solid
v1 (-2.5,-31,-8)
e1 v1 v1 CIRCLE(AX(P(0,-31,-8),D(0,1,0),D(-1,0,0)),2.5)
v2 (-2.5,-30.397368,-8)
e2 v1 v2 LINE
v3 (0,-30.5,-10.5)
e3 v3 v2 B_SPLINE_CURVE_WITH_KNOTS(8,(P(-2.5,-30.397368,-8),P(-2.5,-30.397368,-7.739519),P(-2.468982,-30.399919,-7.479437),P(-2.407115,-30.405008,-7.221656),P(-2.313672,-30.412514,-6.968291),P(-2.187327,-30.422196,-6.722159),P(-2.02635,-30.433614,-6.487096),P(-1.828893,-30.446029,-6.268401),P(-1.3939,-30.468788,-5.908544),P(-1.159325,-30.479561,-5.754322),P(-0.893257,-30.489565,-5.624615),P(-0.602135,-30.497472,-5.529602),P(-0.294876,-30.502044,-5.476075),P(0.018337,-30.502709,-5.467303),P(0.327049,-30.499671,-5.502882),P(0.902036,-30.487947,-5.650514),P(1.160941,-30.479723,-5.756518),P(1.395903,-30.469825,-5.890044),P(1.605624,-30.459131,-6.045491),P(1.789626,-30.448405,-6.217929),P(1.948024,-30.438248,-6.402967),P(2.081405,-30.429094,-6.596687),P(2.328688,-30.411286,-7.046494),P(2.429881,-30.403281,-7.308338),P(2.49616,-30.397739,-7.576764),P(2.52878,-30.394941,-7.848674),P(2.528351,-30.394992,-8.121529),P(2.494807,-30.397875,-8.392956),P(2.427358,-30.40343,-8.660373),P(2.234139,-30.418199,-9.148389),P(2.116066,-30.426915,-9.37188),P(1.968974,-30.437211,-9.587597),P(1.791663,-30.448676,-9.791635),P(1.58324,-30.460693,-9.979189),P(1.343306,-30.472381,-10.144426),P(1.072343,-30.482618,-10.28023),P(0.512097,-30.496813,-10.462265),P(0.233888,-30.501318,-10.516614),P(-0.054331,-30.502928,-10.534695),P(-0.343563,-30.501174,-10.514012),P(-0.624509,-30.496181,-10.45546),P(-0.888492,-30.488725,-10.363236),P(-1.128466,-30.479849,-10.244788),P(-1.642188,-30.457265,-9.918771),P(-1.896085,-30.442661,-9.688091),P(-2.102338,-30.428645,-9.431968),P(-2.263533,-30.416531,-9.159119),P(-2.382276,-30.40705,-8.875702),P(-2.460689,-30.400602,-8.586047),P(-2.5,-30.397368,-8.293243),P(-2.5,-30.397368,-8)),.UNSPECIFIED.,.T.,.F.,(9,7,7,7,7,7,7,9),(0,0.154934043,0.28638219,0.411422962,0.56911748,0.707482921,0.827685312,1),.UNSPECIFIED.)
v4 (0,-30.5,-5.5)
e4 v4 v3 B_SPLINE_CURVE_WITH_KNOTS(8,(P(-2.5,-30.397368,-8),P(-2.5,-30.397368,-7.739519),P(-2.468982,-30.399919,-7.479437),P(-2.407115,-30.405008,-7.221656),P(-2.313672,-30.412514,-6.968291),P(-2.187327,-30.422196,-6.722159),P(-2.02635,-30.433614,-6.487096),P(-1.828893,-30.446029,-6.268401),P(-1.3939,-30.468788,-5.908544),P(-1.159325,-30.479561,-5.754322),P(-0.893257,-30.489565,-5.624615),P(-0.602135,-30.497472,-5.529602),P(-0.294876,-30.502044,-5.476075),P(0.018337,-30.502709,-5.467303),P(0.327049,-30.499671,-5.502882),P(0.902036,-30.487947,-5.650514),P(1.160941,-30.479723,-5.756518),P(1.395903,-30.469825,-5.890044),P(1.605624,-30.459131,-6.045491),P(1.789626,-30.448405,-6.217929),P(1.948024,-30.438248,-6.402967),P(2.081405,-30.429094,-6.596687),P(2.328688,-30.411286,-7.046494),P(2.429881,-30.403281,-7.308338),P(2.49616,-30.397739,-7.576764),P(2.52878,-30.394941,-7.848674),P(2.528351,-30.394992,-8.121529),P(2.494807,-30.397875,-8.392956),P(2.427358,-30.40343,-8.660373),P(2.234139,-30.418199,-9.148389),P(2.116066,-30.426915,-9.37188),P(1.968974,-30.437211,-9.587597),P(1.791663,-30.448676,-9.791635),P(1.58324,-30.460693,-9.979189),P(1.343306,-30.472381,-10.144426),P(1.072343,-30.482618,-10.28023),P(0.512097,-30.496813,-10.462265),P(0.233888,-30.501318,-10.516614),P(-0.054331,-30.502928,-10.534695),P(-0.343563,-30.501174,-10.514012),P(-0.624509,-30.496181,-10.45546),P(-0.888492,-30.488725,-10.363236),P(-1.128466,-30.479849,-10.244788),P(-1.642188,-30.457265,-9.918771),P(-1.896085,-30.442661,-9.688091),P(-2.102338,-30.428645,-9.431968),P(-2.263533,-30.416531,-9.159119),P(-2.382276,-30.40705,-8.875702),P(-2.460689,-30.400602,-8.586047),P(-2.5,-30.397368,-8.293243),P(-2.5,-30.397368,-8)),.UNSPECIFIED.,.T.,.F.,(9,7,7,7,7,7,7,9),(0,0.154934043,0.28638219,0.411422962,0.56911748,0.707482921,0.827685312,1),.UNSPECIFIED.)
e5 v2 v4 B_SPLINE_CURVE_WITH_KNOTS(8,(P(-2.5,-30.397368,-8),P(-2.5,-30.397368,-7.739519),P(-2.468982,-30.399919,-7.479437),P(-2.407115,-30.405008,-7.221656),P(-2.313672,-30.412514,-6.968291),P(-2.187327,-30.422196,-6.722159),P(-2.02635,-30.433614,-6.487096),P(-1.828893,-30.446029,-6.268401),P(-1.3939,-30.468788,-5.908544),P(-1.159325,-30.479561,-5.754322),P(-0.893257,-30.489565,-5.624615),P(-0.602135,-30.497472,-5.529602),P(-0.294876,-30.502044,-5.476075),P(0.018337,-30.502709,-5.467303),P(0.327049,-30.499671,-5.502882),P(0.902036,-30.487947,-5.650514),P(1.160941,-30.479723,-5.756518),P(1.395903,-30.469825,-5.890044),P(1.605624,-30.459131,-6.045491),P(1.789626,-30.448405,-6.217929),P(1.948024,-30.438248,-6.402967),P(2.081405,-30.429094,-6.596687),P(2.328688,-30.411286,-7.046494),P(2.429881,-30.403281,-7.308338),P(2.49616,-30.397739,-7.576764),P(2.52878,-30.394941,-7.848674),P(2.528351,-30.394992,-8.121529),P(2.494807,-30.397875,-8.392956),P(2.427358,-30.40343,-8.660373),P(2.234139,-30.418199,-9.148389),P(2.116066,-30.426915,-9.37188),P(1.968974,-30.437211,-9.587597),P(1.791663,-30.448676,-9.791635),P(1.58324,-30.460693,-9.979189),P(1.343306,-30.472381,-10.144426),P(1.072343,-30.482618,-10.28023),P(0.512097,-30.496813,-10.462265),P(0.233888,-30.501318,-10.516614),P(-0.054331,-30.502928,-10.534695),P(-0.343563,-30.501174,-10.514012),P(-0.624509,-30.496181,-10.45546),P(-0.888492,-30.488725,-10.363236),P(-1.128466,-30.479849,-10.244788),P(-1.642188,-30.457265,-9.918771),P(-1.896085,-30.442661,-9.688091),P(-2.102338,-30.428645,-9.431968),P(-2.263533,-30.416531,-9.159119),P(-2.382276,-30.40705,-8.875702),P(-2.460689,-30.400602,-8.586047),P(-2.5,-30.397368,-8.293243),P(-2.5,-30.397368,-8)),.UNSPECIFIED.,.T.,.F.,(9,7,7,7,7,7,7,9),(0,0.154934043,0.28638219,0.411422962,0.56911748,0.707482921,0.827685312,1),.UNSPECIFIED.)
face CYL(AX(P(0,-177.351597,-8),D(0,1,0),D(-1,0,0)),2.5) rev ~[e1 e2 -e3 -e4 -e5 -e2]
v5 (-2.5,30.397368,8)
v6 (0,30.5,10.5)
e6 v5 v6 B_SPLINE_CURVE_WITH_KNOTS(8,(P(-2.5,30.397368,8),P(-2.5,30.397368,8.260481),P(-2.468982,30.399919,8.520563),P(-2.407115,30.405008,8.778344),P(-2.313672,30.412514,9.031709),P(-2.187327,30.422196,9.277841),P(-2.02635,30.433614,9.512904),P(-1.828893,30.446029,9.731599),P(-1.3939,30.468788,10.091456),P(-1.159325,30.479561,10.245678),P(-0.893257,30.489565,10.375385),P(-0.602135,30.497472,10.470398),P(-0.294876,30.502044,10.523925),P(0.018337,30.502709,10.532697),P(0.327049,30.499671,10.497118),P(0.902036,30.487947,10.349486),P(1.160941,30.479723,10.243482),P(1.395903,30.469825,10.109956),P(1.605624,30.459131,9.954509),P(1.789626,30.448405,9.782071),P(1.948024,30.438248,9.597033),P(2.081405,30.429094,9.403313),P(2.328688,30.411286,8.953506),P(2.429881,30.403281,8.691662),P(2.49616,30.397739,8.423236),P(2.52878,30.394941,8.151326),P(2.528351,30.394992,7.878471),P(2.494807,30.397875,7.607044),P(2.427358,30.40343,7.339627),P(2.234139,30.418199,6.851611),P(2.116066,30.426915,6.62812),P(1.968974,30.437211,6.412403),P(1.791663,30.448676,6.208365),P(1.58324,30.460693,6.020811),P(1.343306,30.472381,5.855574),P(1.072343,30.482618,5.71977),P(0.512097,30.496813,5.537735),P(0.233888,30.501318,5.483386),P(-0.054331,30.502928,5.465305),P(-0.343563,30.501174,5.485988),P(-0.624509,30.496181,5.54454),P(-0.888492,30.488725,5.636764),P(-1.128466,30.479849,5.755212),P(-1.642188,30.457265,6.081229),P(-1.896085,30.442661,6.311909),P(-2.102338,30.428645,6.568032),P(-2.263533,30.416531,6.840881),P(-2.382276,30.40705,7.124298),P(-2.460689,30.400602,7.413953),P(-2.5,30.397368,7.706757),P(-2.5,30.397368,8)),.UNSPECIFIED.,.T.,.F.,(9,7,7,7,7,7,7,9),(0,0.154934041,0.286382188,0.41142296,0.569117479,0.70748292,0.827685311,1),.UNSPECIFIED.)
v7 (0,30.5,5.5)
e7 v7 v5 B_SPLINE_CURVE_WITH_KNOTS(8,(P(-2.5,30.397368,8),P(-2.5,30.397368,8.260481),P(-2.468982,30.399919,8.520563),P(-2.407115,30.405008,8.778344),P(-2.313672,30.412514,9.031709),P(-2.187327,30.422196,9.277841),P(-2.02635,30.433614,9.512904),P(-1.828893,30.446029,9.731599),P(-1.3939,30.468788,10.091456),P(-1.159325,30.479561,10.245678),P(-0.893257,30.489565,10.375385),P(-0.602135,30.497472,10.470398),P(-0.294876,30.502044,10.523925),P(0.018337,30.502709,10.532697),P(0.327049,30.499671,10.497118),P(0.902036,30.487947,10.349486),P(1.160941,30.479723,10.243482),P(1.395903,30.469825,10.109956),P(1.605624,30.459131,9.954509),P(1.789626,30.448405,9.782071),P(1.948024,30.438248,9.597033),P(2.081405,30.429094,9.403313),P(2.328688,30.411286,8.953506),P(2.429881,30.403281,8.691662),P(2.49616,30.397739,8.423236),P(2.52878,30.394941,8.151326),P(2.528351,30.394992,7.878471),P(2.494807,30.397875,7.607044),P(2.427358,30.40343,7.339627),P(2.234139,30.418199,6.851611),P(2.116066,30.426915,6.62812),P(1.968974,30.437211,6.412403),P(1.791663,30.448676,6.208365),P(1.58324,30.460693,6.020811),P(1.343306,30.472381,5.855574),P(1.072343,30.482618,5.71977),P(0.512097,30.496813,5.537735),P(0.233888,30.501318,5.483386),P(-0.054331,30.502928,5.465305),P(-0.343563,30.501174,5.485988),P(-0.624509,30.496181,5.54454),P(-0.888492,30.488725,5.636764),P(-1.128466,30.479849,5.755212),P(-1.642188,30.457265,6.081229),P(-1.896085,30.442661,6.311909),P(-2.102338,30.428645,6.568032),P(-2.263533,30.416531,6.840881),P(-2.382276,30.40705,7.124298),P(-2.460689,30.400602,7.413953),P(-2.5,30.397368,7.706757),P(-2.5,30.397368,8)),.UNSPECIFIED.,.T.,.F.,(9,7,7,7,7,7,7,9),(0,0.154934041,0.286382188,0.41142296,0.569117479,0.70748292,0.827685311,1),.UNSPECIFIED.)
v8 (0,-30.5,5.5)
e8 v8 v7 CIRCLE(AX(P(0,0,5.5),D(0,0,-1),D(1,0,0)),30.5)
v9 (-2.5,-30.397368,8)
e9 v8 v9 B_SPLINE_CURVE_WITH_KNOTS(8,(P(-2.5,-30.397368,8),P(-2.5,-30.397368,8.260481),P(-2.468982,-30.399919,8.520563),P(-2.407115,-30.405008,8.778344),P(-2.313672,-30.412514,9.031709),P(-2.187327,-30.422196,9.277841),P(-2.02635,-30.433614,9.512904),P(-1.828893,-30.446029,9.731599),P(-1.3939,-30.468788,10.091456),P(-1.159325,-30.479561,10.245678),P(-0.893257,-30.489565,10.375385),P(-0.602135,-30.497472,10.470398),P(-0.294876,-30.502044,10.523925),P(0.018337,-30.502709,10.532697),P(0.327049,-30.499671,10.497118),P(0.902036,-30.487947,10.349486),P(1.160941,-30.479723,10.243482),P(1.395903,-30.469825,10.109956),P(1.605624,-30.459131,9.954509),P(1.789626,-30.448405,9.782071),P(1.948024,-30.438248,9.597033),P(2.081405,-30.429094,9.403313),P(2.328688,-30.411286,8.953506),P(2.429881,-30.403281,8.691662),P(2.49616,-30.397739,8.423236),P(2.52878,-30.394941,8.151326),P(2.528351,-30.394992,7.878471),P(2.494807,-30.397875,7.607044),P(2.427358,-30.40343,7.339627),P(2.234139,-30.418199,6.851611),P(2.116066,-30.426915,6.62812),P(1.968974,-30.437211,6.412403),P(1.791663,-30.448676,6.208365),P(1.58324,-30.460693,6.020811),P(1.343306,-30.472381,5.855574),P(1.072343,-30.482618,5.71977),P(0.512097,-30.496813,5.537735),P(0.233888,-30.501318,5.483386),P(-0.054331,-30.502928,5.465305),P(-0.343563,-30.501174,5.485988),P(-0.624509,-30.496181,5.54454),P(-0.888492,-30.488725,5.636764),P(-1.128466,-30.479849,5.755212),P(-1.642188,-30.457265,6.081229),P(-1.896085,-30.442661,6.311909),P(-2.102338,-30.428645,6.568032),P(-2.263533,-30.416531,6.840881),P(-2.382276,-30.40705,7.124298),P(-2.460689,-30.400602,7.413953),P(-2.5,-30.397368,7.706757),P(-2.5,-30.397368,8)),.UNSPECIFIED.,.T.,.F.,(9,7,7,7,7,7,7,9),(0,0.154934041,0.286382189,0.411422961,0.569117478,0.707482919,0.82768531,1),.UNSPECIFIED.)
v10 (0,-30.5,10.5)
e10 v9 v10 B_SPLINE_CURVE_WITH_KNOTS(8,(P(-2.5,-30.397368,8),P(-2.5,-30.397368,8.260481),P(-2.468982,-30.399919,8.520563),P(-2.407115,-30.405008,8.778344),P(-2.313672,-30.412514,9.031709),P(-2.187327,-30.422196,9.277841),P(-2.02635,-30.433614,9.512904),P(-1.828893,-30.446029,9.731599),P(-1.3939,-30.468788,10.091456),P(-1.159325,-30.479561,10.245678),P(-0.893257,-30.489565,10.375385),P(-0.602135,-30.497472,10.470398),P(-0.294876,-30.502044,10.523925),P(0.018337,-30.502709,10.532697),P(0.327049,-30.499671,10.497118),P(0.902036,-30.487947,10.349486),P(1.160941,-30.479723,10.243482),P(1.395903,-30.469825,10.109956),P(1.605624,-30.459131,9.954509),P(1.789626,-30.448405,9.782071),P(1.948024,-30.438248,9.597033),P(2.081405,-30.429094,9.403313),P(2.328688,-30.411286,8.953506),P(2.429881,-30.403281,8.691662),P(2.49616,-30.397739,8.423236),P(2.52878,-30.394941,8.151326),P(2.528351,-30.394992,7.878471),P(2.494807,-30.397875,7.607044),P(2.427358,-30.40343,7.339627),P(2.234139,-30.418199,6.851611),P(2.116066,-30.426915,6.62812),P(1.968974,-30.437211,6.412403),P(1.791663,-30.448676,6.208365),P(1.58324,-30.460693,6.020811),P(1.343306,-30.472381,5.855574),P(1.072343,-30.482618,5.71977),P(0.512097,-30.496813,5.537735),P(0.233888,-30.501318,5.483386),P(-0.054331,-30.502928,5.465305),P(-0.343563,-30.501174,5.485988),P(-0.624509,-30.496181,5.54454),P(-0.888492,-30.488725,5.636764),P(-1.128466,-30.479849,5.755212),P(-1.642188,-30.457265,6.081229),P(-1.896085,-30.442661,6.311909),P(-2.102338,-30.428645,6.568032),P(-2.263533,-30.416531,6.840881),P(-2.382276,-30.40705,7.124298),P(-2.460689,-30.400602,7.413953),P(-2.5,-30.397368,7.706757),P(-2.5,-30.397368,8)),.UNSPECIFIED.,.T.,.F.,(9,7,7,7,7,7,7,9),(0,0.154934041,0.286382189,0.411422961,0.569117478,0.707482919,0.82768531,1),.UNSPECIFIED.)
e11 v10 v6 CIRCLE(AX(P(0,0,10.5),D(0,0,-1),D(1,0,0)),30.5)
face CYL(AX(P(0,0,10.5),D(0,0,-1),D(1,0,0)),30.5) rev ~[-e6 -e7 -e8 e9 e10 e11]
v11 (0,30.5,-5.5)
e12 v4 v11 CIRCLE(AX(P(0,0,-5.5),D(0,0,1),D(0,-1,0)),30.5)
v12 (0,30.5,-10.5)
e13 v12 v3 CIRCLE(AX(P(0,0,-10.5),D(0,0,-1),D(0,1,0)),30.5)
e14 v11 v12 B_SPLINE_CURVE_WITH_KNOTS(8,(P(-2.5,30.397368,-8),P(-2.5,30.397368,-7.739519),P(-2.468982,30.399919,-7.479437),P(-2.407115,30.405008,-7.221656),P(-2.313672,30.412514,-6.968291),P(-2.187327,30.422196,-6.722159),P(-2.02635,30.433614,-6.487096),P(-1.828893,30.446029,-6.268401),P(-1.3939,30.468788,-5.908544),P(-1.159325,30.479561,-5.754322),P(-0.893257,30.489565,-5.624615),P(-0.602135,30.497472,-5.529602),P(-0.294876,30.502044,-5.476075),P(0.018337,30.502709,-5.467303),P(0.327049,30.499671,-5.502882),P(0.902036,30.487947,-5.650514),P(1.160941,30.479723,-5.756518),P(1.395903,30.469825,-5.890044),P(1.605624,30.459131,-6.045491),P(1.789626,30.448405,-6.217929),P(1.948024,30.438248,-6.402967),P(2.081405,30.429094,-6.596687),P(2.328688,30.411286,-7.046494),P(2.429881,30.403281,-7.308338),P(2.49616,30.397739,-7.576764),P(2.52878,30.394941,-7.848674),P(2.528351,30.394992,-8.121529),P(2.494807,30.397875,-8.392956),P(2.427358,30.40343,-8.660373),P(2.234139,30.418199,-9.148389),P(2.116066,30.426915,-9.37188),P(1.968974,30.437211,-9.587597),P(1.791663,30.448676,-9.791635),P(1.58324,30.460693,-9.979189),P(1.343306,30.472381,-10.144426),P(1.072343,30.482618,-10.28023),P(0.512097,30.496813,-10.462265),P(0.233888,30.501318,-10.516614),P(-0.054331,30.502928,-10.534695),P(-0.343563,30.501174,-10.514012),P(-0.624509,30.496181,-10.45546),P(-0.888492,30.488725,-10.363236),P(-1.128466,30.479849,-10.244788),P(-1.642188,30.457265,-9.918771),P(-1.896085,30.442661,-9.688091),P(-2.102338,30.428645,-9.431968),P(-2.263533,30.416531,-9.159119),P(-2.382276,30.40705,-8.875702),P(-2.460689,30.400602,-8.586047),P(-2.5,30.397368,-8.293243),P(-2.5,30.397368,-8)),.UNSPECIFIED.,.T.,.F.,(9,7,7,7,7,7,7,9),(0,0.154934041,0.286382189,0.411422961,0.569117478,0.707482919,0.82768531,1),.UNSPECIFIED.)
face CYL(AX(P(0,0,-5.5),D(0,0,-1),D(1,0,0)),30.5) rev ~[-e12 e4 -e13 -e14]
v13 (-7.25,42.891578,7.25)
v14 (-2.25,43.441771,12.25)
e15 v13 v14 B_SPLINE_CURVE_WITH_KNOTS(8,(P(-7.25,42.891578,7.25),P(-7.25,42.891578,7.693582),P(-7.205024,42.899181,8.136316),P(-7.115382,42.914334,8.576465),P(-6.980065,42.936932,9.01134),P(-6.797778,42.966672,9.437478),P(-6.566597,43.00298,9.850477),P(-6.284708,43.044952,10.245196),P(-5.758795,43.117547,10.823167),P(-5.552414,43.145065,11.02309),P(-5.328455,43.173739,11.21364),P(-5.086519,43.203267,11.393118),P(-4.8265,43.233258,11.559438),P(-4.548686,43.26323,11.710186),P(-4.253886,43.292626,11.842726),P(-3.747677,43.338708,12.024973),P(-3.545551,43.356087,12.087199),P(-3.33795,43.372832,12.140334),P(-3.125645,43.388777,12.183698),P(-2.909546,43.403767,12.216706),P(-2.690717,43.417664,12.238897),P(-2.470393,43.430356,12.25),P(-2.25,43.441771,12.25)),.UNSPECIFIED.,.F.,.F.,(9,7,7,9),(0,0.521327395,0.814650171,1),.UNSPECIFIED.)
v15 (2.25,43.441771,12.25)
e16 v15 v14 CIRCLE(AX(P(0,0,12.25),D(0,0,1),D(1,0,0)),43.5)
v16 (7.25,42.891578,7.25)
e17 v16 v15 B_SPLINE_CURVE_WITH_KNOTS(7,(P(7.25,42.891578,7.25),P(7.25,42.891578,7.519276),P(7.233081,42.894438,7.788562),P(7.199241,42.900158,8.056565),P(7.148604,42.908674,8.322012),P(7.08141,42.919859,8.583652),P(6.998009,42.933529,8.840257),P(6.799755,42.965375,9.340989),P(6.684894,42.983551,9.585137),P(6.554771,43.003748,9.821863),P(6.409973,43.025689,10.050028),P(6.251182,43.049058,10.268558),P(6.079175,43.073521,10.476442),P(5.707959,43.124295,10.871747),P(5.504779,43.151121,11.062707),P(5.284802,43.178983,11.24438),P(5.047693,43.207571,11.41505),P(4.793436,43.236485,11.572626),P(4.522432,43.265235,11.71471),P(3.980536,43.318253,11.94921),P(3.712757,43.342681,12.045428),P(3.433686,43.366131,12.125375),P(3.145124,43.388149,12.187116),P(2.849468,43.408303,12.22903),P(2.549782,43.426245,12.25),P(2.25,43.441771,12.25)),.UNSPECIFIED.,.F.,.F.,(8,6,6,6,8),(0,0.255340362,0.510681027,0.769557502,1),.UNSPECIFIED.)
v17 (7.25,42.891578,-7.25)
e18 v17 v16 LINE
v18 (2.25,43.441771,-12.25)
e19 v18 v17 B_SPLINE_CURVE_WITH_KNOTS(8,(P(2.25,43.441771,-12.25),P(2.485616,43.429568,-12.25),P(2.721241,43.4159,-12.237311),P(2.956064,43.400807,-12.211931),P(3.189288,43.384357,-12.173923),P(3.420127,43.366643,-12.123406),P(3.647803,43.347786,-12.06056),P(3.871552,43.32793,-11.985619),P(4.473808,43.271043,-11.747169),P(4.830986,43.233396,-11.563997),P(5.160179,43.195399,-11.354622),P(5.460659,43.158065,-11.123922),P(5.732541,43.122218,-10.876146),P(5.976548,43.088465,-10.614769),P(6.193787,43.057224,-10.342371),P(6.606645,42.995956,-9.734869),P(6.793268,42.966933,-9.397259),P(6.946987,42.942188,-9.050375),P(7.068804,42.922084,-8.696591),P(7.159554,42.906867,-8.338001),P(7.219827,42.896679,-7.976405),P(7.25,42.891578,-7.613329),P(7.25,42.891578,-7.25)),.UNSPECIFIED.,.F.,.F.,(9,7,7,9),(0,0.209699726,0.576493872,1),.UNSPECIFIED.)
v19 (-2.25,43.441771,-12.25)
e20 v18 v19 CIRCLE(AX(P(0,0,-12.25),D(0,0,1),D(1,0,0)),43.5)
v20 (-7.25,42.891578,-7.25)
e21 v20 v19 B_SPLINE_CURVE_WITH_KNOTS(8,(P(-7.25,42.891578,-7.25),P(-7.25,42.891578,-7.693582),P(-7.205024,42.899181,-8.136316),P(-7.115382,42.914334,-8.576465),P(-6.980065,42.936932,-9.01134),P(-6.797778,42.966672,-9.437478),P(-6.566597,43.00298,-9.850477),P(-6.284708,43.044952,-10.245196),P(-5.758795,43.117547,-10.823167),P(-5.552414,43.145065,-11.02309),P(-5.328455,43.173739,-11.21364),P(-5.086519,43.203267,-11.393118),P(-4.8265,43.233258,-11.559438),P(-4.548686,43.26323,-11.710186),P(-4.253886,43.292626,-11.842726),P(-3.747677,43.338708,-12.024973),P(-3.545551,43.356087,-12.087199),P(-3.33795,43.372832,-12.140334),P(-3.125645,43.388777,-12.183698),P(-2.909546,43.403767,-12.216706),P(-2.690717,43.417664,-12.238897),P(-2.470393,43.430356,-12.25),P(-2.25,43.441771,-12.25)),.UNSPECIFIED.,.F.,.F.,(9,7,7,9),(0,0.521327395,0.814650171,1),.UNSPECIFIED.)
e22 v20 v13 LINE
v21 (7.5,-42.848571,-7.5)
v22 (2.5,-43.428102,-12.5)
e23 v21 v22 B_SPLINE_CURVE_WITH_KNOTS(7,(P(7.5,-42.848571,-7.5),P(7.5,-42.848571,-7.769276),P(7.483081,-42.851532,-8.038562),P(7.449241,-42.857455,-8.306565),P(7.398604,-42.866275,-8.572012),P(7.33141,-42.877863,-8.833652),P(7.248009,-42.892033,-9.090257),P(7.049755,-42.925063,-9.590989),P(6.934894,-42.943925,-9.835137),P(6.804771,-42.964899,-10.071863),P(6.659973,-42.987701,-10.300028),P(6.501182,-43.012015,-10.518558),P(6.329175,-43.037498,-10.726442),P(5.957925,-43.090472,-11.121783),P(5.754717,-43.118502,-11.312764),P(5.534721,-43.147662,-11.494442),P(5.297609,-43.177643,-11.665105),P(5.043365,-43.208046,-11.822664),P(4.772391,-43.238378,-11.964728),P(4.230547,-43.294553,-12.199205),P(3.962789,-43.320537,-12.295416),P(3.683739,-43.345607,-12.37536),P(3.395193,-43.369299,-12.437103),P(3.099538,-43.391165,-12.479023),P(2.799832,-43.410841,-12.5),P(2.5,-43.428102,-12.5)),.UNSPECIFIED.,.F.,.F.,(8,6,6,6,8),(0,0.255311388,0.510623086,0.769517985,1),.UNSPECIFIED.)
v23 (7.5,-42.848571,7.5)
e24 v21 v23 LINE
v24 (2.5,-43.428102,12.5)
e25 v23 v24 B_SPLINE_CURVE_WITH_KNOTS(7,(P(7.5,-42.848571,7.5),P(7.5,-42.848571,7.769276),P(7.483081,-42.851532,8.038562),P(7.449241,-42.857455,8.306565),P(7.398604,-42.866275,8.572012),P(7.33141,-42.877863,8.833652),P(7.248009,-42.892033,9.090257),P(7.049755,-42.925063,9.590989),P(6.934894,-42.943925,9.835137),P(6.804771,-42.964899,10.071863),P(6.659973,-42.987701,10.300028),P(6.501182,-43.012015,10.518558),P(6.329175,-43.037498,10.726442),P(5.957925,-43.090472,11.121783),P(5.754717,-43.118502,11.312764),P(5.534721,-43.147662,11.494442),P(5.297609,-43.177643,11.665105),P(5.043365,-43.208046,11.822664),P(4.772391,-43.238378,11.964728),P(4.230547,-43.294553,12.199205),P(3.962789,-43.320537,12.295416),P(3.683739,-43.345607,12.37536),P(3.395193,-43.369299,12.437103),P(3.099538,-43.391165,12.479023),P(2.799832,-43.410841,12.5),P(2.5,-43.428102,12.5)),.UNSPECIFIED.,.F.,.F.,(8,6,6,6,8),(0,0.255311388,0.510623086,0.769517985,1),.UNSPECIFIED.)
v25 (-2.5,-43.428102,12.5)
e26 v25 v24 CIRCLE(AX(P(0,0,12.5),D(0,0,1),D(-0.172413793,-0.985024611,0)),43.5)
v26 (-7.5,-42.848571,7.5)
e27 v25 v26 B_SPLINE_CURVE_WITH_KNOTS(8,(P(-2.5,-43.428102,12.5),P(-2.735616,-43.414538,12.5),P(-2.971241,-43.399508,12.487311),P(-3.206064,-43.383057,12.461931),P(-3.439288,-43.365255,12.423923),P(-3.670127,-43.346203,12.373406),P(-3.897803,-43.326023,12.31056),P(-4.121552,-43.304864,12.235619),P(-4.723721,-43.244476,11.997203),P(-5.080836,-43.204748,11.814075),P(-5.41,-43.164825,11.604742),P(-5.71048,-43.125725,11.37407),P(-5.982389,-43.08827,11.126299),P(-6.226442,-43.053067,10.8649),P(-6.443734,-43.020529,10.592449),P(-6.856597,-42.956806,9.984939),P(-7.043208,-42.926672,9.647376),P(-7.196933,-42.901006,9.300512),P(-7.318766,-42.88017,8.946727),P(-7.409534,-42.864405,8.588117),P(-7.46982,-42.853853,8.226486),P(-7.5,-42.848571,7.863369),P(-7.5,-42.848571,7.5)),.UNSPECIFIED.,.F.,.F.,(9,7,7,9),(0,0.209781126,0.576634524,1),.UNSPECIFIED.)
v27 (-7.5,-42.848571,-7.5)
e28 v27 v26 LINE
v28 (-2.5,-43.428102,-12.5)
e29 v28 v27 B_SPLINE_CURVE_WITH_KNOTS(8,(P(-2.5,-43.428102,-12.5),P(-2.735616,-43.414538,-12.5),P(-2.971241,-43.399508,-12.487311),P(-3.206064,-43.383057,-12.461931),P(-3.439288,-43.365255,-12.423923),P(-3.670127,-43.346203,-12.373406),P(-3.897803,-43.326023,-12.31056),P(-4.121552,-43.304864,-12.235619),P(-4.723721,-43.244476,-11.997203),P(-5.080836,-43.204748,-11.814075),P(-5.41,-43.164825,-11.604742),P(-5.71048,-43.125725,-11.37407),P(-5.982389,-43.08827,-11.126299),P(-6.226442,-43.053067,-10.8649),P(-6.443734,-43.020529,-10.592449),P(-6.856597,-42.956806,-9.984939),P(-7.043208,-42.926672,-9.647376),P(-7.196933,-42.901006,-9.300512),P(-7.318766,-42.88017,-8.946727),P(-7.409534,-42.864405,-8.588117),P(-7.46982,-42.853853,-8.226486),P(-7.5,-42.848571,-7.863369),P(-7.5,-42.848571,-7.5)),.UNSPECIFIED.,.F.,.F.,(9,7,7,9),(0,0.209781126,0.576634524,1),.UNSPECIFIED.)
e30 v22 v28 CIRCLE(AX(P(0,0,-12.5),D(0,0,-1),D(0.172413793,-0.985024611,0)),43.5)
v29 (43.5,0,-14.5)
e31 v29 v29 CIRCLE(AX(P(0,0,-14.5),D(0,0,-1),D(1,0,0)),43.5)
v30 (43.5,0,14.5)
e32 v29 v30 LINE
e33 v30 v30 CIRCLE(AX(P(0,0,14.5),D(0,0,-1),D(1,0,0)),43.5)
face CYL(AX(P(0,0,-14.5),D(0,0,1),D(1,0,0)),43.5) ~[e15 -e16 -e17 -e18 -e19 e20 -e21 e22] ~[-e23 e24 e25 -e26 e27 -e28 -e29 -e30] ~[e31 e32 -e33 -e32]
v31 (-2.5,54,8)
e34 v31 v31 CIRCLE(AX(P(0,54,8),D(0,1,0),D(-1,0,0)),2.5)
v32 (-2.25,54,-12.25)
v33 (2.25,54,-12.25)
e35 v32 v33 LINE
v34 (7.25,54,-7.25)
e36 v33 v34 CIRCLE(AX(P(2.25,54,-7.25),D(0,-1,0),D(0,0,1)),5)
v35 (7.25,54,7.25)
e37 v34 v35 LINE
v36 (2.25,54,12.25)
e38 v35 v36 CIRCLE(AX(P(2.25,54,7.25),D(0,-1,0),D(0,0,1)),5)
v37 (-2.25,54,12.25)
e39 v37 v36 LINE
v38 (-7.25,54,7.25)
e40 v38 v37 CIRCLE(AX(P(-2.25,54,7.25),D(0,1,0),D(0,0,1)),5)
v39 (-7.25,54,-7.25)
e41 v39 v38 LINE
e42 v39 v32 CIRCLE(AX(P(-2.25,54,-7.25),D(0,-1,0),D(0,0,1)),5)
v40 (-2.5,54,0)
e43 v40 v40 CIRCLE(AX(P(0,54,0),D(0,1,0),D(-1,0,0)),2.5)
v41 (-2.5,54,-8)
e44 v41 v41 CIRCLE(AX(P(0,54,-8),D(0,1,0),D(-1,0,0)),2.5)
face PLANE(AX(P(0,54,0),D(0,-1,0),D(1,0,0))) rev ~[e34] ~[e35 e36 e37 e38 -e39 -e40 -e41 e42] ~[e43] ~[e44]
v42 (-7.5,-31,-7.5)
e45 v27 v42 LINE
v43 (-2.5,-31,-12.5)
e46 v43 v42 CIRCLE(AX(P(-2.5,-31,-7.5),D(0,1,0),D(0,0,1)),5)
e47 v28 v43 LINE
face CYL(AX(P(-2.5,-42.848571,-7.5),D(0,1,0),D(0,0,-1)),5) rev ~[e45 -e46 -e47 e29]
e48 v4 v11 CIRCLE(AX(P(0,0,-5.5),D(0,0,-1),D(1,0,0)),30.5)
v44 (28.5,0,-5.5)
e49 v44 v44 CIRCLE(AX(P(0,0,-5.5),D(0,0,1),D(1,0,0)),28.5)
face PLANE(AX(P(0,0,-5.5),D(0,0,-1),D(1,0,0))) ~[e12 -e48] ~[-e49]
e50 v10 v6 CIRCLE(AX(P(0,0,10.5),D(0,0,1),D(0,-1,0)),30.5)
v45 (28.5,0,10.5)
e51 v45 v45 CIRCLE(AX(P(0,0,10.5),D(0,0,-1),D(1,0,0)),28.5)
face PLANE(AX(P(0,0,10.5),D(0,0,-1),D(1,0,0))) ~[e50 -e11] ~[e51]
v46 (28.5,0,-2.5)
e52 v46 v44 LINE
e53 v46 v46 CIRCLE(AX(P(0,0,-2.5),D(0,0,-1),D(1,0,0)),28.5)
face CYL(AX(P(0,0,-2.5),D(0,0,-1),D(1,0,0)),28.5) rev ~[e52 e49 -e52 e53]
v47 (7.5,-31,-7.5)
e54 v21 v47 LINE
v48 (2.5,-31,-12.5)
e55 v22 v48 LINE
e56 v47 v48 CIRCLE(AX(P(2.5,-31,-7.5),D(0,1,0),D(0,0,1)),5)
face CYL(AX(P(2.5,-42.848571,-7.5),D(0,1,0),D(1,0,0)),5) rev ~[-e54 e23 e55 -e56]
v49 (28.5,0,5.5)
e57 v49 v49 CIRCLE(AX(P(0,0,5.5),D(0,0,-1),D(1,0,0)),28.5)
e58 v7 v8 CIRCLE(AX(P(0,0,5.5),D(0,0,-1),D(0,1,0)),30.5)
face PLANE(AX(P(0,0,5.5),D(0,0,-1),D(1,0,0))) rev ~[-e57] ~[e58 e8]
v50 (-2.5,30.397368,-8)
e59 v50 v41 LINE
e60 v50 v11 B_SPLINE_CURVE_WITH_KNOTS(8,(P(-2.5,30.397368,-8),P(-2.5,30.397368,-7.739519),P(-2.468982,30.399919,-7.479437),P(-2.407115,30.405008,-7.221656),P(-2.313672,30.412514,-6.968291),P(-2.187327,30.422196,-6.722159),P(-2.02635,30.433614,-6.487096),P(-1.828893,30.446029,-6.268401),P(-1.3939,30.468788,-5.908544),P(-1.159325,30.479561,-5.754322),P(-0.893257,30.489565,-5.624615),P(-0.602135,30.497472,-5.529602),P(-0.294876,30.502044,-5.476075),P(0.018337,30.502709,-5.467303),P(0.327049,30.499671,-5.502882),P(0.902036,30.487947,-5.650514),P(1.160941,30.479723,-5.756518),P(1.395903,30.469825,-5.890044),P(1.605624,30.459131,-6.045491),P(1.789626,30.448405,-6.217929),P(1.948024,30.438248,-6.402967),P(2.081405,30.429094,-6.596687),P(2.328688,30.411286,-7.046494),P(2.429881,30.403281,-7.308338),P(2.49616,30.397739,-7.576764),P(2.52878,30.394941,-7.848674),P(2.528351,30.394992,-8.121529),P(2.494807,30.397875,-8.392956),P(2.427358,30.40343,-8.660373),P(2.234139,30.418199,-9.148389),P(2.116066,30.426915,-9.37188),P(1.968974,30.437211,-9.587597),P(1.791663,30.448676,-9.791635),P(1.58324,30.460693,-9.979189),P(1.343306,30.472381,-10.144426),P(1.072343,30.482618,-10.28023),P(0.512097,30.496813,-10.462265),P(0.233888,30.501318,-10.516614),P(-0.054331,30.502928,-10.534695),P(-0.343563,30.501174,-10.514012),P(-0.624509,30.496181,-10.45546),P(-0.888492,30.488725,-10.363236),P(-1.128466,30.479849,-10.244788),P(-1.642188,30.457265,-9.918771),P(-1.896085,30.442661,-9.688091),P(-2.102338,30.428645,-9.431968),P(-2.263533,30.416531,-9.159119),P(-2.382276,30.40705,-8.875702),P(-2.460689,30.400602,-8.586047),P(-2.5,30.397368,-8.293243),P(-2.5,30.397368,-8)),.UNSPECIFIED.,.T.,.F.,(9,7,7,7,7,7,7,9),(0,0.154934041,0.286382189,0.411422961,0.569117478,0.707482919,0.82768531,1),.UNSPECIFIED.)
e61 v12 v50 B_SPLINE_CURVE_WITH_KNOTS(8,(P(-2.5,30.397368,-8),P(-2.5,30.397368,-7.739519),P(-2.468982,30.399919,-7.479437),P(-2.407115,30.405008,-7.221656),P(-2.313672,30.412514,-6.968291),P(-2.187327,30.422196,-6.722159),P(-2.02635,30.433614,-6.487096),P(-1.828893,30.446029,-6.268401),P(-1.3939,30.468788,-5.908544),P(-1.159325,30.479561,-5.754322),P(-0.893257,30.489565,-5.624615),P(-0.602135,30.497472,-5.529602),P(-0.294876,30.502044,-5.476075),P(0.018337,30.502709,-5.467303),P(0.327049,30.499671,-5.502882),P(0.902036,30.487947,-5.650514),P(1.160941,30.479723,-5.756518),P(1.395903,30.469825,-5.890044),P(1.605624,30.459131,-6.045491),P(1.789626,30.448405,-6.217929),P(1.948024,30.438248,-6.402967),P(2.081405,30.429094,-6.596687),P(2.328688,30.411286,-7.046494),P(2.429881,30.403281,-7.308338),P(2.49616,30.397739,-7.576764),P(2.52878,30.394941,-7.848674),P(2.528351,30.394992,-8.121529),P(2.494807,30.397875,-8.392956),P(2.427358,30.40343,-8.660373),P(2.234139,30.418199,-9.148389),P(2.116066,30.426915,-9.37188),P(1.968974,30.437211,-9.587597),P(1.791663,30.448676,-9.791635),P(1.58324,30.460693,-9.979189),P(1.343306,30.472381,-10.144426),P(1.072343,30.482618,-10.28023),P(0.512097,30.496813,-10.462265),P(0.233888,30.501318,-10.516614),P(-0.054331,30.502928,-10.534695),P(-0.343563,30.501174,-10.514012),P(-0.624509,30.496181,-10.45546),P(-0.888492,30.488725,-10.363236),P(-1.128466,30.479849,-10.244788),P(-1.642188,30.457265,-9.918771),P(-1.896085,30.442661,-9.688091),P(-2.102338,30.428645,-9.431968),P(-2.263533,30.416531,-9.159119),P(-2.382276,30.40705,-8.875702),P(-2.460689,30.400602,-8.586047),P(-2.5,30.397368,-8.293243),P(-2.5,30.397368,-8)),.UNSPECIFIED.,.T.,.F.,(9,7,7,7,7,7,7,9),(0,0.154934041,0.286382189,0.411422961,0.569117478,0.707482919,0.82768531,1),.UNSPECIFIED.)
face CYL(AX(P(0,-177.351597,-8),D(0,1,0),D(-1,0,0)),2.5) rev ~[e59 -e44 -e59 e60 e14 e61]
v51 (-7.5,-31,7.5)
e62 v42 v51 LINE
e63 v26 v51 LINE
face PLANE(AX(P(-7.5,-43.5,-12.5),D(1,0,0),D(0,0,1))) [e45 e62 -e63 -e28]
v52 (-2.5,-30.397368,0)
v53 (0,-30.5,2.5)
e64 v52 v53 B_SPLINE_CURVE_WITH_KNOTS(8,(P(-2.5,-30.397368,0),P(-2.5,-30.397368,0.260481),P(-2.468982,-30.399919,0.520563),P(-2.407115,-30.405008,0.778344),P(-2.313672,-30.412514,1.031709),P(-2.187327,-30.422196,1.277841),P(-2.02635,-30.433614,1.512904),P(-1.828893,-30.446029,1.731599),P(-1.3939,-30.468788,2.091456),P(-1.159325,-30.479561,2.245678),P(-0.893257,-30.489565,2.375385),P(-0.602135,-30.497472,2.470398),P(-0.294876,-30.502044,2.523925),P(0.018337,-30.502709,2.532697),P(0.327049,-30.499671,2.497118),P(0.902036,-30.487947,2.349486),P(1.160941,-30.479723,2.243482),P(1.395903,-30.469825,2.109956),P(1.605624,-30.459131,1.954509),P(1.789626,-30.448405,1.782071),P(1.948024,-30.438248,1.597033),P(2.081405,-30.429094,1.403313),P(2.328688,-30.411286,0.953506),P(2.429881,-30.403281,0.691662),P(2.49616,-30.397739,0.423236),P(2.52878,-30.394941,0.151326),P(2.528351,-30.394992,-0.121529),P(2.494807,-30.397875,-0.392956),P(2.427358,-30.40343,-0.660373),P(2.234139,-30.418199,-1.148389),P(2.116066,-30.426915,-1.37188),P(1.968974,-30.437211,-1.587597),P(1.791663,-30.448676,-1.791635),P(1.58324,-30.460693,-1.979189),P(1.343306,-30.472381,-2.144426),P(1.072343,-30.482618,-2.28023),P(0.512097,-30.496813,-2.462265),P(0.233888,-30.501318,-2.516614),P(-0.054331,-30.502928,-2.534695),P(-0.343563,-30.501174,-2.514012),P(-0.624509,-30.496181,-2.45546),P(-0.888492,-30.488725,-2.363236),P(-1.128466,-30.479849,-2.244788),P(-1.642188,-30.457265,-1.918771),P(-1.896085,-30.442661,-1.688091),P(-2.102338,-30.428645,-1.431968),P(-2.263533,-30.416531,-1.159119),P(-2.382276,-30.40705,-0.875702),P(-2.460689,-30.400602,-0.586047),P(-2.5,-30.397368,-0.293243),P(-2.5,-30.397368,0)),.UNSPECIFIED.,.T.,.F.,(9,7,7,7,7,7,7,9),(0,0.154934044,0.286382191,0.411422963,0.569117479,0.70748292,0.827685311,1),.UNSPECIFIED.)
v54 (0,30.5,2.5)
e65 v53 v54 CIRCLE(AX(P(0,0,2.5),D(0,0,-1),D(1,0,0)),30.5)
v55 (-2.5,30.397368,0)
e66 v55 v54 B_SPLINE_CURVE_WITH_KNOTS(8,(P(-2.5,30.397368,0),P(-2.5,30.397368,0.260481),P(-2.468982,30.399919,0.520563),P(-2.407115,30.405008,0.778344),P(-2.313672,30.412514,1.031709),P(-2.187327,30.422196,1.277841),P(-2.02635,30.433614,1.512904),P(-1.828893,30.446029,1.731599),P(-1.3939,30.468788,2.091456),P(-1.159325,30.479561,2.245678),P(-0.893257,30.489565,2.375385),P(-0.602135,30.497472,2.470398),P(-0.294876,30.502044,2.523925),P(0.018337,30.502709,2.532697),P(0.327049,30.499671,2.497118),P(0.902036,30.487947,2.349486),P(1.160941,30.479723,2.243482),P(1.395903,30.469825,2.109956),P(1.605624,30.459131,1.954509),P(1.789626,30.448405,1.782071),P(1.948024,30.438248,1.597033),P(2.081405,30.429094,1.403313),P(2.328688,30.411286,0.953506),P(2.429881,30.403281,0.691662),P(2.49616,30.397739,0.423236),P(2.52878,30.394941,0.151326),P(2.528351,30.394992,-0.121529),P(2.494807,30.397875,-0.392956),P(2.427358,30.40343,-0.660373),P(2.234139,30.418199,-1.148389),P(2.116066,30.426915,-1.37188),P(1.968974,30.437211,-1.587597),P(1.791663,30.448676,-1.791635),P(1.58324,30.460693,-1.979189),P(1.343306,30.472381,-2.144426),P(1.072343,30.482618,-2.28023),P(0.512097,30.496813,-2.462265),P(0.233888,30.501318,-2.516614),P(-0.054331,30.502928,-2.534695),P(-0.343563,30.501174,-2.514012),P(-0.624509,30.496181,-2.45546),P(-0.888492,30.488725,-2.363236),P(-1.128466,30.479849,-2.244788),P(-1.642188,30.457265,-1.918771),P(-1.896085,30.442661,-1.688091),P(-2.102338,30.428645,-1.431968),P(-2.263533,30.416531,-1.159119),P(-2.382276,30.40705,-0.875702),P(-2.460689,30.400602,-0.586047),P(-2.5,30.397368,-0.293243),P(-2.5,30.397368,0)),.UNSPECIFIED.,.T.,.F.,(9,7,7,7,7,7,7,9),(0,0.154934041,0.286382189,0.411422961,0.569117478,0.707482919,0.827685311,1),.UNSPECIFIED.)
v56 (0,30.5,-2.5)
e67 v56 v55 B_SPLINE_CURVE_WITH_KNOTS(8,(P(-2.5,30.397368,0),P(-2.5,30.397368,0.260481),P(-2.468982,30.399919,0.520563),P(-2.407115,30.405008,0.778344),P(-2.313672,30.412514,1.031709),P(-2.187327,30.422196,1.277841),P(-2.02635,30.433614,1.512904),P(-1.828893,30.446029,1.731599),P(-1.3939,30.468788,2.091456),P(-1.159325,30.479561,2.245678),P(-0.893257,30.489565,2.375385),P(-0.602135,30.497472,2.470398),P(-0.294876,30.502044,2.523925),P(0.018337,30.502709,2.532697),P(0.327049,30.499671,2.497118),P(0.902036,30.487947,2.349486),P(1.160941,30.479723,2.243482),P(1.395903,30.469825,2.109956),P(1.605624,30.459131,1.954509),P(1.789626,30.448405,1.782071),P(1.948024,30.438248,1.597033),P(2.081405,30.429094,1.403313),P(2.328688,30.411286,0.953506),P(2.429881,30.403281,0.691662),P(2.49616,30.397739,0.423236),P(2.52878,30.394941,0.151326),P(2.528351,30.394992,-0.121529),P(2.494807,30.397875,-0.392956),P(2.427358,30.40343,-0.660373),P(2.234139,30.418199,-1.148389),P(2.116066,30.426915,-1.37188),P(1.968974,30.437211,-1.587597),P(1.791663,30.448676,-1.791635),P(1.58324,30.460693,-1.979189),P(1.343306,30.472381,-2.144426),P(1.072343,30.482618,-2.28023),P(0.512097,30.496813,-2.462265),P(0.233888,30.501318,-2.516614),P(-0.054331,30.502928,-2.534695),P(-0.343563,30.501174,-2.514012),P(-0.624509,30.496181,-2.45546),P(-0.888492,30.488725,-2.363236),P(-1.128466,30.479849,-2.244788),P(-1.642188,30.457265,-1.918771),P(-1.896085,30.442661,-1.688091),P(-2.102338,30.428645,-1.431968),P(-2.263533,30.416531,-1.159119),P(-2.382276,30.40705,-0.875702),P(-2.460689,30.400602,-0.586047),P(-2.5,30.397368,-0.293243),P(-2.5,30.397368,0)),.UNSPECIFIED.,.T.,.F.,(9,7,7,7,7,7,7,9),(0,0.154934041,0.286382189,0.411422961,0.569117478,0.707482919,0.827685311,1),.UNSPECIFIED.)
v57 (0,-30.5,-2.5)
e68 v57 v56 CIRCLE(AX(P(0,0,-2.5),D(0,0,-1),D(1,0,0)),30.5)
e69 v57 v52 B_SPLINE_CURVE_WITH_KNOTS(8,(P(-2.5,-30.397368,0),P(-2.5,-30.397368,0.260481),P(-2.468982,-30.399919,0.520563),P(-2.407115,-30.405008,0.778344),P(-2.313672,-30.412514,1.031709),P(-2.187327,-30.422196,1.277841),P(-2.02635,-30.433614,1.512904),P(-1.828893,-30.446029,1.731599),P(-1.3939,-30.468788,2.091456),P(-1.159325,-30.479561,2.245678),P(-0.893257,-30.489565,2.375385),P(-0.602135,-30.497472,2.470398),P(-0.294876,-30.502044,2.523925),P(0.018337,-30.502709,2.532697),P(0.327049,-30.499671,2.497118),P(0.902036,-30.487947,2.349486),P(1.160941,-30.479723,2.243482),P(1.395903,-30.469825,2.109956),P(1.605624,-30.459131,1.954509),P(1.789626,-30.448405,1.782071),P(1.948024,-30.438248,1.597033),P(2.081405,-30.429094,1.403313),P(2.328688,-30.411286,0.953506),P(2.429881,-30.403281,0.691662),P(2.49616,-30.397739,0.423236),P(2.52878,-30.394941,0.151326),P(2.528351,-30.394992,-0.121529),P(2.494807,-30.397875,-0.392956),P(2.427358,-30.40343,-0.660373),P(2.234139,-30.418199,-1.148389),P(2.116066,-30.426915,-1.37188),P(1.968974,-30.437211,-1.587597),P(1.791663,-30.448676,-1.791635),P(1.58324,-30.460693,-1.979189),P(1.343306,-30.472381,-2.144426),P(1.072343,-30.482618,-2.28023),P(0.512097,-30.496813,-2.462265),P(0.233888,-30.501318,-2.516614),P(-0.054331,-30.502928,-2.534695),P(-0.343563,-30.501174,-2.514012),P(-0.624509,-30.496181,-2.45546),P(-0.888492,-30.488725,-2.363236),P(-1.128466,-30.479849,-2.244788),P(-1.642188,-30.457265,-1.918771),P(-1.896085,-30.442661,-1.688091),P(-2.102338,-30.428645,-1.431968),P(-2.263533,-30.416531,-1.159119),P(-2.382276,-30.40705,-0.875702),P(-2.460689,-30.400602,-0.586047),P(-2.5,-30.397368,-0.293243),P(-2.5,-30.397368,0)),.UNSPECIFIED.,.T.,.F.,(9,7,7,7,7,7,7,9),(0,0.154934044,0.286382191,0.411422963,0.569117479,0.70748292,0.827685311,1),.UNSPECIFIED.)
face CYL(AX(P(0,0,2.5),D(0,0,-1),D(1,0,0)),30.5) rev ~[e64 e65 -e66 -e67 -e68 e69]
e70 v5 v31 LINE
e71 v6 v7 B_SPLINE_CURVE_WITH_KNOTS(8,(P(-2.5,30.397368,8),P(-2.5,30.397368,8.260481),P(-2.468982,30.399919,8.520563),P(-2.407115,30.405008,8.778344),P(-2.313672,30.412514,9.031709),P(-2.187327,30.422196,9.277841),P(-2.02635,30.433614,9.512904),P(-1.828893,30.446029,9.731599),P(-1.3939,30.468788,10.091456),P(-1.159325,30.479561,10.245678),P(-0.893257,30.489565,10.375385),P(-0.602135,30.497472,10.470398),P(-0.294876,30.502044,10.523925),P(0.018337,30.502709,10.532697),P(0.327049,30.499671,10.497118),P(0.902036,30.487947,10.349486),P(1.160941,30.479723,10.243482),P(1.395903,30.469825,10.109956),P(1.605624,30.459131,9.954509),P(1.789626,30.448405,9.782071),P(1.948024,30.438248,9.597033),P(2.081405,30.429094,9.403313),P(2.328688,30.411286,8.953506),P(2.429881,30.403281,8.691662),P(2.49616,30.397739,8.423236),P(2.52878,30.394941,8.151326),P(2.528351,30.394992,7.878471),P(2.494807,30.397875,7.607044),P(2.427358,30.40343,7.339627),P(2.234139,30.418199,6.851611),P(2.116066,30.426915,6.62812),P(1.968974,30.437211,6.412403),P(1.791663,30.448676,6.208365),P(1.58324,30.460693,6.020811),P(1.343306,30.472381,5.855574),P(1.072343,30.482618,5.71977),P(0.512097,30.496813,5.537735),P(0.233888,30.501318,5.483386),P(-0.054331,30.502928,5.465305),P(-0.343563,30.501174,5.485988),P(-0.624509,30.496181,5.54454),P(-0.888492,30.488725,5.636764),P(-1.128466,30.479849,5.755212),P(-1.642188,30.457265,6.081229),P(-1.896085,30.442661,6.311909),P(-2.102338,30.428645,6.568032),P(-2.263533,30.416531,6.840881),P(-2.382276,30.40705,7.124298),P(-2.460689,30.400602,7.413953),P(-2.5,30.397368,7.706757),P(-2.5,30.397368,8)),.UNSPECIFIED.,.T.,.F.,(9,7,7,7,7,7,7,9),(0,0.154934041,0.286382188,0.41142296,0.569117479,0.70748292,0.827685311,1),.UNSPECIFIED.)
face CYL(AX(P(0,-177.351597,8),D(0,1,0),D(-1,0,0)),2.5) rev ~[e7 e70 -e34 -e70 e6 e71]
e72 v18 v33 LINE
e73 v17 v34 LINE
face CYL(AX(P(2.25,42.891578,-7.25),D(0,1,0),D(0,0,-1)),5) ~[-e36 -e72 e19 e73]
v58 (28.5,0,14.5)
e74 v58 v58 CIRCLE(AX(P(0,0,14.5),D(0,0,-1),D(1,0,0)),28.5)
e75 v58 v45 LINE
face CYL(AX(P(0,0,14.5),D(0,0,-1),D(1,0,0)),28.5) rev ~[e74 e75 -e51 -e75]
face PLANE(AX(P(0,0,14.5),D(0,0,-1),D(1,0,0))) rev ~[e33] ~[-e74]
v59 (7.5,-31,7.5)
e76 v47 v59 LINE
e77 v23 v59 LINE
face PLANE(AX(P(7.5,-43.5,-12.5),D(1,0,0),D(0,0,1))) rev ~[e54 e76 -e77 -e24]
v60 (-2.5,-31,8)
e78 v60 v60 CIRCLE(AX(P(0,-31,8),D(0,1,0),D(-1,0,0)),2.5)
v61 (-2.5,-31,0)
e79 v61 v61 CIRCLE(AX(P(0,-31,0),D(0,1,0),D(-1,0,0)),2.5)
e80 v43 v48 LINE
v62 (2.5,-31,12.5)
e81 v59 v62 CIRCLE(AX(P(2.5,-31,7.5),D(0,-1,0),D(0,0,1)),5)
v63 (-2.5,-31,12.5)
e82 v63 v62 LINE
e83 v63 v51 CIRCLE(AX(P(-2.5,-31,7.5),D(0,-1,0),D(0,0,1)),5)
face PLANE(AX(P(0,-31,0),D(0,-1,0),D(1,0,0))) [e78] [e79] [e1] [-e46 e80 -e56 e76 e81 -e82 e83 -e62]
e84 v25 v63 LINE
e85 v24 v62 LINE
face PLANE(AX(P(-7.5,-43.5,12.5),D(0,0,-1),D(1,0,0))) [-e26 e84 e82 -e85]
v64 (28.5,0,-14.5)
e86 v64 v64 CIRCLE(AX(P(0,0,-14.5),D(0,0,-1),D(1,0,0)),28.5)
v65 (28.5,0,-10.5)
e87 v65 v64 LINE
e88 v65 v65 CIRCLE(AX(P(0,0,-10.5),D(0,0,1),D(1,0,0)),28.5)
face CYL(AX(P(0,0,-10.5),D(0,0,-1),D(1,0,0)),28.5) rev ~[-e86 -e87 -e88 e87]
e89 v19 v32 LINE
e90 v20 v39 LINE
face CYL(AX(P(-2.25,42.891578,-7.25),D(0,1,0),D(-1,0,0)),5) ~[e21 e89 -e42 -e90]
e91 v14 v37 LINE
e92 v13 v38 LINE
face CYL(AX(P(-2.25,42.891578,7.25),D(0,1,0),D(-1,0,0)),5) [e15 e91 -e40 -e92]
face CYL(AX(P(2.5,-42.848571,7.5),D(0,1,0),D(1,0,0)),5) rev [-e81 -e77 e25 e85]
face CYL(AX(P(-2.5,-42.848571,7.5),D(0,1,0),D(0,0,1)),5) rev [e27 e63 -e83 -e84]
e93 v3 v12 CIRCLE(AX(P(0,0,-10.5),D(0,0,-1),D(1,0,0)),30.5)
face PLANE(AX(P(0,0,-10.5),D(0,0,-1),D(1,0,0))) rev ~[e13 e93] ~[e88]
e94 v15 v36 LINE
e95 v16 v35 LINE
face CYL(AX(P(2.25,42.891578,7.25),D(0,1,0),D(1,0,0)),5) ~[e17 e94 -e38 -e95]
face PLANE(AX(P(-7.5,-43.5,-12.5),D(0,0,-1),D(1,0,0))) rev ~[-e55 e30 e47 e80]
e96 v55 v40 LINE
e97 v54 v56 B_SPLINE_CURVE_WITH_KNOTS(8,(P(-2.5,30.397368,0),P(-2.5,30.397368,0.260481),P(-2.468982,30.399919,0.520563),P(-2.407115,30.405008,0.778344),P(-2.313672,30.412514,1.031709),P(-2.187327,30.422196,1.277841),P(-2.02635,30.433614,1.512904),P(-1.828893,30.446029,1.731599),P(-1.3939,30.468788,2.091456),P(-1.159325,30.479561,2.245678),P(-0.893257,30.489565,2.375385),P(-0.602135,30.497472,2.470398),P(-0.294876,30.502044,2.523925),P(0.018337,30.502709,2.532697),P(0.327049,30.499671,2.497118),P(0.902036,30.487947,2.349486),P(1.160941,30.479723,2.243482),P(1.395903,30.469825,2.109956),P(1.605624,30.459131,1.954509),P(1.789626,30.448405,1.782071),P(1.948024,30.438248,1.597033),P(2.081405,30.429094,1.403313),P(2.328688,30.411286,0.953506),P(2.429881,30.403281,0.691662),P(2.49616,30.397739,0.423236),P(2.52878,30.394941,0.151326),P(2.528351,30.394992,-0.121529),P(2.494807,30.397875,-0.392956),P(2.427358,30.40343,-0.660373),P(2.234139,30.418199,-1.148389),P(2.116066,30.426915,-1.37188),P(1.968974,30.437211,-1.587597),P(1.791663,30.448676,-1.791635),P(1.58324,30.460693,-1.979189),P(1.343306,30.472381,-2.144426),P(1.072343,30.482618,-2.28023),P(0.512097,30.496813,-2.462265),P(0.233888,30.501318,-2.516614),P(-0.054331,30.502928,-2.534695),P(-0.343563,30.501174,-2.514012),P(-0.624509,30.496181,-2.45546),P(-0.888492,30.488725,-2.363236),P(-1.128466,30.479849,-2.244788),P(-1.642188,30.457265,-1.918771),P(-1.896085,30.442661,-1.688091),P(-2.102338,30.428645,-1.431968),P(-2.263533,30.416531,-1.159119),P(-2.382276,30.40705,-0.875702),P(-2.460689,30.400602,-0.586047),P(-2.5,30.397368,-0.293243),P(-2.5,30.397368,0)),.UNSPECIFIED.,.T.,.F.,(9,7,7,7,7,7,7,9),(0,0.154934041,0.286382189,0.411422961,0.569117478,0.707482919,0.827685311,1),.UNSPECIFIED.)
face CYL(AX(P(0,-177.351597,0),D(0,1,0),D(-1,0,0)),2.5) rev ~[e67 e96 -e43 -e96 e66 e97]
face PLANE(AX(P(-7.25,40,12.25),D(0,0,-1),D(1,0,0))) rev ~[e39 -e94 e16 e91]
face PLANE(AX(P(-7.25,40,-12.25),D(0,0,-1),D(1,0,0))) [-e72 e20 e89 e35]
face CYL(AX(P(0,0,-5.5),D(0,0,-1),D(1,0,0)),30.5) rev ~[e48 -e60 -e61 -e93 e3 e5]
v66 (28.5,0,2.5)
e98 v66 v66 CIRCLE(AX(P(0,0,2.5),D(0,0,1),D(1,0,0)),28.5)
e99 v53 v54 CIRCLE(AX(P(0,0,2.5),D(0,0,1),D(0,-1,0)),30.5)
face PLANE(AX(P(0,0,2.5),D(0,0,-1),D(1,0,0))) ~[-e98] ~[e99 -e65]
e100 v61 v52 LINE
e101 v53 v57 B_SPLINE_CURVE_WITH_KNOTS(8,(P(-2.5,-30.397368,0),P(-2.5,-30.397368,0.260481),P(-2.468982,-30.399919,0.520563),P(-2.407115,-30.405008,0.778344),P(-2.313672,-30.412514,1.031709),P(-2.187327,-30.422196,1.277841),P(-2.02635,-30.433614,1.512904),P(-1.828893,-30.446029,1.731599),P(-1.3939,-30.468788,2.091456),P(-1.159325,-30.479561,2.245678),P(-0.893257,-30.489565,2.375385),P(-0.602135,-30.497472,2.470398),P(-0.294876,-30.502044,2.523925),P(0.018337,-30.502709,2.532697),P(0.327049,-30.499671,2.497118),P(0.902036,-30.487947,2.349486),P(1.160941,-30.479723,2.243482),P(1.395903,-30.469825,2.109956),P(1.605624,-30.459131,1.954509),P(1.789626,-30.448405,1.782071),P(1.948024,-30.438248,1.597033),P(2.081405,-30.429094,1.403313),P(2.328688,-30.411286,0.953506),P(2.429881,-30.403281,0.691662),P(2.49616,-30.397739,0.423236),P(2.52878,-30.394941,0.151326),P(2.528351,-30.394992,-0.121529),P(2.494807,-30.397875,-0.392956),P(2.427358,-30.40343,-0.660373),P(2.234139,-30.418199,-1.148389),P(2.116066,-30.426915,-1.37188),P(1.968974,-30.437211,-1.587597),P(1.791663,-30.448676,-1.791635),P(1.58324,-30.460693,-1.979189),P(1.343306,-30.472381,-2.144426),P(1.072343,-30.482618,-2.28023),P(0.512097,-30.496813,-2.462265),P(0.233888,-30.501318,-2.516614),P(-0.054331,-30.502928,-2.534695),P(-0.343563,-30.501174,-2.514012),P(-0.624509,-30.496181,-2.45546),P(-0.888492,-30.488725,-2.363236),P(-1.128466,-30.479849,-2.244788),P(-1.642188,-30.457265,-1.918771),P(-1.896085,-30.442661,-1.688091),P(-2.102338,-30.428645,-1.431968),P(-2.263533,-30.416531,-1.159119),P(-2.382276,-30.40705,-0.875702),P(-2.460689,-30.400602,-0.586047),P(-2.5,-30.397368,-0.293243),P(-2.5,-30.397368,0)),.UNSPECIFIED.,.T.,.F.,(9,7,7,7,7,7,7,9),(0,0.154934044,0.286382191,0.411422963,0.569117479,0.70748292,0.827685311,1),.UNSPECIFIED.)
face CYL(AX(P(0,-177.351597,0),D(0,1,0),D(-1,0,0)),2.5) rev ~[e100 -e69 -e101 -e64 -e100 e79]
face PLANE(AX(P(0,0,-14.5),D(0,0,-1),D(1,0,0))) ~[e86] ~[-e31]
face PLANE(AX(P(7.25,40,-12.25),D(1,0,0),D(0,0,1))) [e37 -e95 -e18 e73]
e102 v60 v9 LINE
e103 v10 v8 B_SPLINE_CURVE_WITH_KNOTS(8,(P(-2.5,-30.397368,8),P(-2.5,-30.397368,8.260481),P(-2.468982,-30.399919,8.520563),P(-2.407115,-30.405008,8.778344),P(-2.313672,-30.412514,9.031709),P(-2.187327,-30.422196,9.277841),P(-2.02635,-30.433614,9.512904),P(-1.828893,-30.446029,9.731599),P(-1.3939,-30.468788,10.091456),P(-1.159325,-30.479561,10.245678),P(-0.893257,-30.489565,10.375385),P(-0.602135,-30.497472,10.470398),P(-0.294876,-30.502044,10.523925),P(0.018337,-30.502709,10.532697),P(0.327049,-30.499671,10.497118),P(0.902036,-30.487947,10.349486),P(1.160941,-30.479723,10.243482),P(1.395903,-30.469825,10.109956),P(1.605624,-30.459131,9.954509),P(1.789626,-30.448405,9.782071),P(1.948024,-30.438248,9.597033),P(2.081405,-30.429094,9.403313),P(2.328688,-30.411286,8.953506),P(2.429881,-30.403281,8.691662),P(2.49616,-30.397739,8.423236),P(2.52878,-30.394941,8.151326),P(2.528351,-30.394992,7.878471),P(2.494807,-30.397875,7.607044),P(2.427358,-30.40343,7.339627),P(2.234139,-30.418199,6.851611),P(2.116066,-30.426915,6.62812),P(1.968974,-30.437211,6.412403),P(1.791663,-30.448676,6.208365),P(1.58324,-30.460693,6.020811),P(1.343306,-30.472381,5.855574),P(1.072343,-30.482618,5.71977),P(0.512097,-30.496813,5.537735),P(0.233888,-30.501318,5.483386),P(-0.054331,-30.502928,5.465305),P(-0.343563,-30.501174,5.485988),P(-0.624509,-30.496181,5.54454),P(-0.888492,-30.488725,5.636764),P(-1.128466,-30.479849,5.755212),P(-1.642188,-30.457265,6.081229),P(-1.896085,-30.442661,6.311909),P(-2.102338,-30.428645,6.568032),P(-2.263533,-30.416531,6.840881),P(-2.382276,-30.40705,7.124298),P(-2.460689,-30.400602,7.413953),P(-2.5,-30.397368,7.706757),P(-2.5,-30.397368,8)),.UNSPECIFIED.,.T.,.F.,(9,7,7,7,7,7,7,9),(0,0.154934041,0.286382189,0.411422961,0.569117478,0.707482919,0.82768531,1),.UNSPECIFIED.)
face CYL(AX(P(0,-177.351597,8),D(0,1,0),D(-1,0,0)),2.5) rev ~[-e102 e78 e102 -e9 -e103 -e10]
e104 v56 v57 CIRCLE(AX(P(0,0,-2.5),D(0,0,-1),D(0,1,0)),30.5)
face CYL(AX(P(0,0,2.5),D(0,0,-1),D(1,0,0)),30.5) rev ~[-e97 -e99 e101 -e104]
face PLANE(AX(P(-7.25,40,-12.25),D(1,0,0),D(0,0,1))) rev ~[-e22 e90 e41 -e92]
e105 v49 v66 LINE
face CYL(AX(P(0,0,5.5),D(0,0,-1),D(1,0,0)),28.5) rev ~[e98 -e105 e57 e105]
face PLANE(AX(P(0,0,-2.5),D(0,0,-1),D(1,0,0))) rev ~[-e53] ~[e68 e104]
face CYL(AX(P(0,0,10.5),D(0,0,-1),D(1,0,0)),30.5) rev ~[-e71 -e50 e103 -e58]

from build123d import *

# Parameters (mm, degrees)
F3_W     = 15
F3_H     = 25
F4_DEPTH = 12.5
F6_W     = 14.5
F6_H     = 24.5
F7_DEPTH = 14
F8_D     = 5
F9_R     = 5


with BuildPart() as f1:
    # F0 (on Front) → F1 (revolve)
    with BuildSketch(Plane.XZ):
        Polygon((43.5, 14.5), (28.5, 14.5), (28.5, 10.5), (30.5, 10.5), (30.5, 5.5), (28.5, 5.5), (28.5, 2.5), (30.5, 2.5), (30.5, -2.5), (28.5, -2.5), (28.5, -5.5), (30.5, -5.5), (30.5, -10.5), (28.5, -10.5), (28.5, -14.5), (43.5, -14.5), align=None)
    revolve(axis=Axis((0, 0, 1.261241), (0, 0, -1)))

    # F3 (on offset) → F4 (cut)
    with BuildSketch(Plane.XZ.offset(43.5)):
        Rectangle(F3_W, F3_H)
    extrude(amount=-F4_DEPTH, mode=Mode.SUBTRACT)

    # F6 (on offset) → F7 (join)
    with BuildSketch(Plane.XZ.offset(-40)):
        Rectangle(F6_W, F6_H)
    extrude(amount=-F7_DEPTH)

    # F8 (through all)
    with Locations(Plane.XZ.offset(43.5)):
        with Locations((0, 8), (0, 0), (0, -8)):
            Hole(F8_D / 2)

    # F9
    f9_edges = [f1.edges().sort_by_distance(p)[0] for p in [
        (-7.5, -36.924285, 12.5),
        (7.5, -36.924285, 12.5),
        (-7.5, -36.924285, -12.5),
        (7.5, -36.924285, -12.5),
        (7.25, 48.445789, 12.25),
        (-7.25, 48.445789, 12.25),
        (7.25, 48.445789, -12.25),
        (-7.25, 48.445789, -12.25),
    ]]
    fillet(f9_edges, radius=F9_R)


solid = f1.part
